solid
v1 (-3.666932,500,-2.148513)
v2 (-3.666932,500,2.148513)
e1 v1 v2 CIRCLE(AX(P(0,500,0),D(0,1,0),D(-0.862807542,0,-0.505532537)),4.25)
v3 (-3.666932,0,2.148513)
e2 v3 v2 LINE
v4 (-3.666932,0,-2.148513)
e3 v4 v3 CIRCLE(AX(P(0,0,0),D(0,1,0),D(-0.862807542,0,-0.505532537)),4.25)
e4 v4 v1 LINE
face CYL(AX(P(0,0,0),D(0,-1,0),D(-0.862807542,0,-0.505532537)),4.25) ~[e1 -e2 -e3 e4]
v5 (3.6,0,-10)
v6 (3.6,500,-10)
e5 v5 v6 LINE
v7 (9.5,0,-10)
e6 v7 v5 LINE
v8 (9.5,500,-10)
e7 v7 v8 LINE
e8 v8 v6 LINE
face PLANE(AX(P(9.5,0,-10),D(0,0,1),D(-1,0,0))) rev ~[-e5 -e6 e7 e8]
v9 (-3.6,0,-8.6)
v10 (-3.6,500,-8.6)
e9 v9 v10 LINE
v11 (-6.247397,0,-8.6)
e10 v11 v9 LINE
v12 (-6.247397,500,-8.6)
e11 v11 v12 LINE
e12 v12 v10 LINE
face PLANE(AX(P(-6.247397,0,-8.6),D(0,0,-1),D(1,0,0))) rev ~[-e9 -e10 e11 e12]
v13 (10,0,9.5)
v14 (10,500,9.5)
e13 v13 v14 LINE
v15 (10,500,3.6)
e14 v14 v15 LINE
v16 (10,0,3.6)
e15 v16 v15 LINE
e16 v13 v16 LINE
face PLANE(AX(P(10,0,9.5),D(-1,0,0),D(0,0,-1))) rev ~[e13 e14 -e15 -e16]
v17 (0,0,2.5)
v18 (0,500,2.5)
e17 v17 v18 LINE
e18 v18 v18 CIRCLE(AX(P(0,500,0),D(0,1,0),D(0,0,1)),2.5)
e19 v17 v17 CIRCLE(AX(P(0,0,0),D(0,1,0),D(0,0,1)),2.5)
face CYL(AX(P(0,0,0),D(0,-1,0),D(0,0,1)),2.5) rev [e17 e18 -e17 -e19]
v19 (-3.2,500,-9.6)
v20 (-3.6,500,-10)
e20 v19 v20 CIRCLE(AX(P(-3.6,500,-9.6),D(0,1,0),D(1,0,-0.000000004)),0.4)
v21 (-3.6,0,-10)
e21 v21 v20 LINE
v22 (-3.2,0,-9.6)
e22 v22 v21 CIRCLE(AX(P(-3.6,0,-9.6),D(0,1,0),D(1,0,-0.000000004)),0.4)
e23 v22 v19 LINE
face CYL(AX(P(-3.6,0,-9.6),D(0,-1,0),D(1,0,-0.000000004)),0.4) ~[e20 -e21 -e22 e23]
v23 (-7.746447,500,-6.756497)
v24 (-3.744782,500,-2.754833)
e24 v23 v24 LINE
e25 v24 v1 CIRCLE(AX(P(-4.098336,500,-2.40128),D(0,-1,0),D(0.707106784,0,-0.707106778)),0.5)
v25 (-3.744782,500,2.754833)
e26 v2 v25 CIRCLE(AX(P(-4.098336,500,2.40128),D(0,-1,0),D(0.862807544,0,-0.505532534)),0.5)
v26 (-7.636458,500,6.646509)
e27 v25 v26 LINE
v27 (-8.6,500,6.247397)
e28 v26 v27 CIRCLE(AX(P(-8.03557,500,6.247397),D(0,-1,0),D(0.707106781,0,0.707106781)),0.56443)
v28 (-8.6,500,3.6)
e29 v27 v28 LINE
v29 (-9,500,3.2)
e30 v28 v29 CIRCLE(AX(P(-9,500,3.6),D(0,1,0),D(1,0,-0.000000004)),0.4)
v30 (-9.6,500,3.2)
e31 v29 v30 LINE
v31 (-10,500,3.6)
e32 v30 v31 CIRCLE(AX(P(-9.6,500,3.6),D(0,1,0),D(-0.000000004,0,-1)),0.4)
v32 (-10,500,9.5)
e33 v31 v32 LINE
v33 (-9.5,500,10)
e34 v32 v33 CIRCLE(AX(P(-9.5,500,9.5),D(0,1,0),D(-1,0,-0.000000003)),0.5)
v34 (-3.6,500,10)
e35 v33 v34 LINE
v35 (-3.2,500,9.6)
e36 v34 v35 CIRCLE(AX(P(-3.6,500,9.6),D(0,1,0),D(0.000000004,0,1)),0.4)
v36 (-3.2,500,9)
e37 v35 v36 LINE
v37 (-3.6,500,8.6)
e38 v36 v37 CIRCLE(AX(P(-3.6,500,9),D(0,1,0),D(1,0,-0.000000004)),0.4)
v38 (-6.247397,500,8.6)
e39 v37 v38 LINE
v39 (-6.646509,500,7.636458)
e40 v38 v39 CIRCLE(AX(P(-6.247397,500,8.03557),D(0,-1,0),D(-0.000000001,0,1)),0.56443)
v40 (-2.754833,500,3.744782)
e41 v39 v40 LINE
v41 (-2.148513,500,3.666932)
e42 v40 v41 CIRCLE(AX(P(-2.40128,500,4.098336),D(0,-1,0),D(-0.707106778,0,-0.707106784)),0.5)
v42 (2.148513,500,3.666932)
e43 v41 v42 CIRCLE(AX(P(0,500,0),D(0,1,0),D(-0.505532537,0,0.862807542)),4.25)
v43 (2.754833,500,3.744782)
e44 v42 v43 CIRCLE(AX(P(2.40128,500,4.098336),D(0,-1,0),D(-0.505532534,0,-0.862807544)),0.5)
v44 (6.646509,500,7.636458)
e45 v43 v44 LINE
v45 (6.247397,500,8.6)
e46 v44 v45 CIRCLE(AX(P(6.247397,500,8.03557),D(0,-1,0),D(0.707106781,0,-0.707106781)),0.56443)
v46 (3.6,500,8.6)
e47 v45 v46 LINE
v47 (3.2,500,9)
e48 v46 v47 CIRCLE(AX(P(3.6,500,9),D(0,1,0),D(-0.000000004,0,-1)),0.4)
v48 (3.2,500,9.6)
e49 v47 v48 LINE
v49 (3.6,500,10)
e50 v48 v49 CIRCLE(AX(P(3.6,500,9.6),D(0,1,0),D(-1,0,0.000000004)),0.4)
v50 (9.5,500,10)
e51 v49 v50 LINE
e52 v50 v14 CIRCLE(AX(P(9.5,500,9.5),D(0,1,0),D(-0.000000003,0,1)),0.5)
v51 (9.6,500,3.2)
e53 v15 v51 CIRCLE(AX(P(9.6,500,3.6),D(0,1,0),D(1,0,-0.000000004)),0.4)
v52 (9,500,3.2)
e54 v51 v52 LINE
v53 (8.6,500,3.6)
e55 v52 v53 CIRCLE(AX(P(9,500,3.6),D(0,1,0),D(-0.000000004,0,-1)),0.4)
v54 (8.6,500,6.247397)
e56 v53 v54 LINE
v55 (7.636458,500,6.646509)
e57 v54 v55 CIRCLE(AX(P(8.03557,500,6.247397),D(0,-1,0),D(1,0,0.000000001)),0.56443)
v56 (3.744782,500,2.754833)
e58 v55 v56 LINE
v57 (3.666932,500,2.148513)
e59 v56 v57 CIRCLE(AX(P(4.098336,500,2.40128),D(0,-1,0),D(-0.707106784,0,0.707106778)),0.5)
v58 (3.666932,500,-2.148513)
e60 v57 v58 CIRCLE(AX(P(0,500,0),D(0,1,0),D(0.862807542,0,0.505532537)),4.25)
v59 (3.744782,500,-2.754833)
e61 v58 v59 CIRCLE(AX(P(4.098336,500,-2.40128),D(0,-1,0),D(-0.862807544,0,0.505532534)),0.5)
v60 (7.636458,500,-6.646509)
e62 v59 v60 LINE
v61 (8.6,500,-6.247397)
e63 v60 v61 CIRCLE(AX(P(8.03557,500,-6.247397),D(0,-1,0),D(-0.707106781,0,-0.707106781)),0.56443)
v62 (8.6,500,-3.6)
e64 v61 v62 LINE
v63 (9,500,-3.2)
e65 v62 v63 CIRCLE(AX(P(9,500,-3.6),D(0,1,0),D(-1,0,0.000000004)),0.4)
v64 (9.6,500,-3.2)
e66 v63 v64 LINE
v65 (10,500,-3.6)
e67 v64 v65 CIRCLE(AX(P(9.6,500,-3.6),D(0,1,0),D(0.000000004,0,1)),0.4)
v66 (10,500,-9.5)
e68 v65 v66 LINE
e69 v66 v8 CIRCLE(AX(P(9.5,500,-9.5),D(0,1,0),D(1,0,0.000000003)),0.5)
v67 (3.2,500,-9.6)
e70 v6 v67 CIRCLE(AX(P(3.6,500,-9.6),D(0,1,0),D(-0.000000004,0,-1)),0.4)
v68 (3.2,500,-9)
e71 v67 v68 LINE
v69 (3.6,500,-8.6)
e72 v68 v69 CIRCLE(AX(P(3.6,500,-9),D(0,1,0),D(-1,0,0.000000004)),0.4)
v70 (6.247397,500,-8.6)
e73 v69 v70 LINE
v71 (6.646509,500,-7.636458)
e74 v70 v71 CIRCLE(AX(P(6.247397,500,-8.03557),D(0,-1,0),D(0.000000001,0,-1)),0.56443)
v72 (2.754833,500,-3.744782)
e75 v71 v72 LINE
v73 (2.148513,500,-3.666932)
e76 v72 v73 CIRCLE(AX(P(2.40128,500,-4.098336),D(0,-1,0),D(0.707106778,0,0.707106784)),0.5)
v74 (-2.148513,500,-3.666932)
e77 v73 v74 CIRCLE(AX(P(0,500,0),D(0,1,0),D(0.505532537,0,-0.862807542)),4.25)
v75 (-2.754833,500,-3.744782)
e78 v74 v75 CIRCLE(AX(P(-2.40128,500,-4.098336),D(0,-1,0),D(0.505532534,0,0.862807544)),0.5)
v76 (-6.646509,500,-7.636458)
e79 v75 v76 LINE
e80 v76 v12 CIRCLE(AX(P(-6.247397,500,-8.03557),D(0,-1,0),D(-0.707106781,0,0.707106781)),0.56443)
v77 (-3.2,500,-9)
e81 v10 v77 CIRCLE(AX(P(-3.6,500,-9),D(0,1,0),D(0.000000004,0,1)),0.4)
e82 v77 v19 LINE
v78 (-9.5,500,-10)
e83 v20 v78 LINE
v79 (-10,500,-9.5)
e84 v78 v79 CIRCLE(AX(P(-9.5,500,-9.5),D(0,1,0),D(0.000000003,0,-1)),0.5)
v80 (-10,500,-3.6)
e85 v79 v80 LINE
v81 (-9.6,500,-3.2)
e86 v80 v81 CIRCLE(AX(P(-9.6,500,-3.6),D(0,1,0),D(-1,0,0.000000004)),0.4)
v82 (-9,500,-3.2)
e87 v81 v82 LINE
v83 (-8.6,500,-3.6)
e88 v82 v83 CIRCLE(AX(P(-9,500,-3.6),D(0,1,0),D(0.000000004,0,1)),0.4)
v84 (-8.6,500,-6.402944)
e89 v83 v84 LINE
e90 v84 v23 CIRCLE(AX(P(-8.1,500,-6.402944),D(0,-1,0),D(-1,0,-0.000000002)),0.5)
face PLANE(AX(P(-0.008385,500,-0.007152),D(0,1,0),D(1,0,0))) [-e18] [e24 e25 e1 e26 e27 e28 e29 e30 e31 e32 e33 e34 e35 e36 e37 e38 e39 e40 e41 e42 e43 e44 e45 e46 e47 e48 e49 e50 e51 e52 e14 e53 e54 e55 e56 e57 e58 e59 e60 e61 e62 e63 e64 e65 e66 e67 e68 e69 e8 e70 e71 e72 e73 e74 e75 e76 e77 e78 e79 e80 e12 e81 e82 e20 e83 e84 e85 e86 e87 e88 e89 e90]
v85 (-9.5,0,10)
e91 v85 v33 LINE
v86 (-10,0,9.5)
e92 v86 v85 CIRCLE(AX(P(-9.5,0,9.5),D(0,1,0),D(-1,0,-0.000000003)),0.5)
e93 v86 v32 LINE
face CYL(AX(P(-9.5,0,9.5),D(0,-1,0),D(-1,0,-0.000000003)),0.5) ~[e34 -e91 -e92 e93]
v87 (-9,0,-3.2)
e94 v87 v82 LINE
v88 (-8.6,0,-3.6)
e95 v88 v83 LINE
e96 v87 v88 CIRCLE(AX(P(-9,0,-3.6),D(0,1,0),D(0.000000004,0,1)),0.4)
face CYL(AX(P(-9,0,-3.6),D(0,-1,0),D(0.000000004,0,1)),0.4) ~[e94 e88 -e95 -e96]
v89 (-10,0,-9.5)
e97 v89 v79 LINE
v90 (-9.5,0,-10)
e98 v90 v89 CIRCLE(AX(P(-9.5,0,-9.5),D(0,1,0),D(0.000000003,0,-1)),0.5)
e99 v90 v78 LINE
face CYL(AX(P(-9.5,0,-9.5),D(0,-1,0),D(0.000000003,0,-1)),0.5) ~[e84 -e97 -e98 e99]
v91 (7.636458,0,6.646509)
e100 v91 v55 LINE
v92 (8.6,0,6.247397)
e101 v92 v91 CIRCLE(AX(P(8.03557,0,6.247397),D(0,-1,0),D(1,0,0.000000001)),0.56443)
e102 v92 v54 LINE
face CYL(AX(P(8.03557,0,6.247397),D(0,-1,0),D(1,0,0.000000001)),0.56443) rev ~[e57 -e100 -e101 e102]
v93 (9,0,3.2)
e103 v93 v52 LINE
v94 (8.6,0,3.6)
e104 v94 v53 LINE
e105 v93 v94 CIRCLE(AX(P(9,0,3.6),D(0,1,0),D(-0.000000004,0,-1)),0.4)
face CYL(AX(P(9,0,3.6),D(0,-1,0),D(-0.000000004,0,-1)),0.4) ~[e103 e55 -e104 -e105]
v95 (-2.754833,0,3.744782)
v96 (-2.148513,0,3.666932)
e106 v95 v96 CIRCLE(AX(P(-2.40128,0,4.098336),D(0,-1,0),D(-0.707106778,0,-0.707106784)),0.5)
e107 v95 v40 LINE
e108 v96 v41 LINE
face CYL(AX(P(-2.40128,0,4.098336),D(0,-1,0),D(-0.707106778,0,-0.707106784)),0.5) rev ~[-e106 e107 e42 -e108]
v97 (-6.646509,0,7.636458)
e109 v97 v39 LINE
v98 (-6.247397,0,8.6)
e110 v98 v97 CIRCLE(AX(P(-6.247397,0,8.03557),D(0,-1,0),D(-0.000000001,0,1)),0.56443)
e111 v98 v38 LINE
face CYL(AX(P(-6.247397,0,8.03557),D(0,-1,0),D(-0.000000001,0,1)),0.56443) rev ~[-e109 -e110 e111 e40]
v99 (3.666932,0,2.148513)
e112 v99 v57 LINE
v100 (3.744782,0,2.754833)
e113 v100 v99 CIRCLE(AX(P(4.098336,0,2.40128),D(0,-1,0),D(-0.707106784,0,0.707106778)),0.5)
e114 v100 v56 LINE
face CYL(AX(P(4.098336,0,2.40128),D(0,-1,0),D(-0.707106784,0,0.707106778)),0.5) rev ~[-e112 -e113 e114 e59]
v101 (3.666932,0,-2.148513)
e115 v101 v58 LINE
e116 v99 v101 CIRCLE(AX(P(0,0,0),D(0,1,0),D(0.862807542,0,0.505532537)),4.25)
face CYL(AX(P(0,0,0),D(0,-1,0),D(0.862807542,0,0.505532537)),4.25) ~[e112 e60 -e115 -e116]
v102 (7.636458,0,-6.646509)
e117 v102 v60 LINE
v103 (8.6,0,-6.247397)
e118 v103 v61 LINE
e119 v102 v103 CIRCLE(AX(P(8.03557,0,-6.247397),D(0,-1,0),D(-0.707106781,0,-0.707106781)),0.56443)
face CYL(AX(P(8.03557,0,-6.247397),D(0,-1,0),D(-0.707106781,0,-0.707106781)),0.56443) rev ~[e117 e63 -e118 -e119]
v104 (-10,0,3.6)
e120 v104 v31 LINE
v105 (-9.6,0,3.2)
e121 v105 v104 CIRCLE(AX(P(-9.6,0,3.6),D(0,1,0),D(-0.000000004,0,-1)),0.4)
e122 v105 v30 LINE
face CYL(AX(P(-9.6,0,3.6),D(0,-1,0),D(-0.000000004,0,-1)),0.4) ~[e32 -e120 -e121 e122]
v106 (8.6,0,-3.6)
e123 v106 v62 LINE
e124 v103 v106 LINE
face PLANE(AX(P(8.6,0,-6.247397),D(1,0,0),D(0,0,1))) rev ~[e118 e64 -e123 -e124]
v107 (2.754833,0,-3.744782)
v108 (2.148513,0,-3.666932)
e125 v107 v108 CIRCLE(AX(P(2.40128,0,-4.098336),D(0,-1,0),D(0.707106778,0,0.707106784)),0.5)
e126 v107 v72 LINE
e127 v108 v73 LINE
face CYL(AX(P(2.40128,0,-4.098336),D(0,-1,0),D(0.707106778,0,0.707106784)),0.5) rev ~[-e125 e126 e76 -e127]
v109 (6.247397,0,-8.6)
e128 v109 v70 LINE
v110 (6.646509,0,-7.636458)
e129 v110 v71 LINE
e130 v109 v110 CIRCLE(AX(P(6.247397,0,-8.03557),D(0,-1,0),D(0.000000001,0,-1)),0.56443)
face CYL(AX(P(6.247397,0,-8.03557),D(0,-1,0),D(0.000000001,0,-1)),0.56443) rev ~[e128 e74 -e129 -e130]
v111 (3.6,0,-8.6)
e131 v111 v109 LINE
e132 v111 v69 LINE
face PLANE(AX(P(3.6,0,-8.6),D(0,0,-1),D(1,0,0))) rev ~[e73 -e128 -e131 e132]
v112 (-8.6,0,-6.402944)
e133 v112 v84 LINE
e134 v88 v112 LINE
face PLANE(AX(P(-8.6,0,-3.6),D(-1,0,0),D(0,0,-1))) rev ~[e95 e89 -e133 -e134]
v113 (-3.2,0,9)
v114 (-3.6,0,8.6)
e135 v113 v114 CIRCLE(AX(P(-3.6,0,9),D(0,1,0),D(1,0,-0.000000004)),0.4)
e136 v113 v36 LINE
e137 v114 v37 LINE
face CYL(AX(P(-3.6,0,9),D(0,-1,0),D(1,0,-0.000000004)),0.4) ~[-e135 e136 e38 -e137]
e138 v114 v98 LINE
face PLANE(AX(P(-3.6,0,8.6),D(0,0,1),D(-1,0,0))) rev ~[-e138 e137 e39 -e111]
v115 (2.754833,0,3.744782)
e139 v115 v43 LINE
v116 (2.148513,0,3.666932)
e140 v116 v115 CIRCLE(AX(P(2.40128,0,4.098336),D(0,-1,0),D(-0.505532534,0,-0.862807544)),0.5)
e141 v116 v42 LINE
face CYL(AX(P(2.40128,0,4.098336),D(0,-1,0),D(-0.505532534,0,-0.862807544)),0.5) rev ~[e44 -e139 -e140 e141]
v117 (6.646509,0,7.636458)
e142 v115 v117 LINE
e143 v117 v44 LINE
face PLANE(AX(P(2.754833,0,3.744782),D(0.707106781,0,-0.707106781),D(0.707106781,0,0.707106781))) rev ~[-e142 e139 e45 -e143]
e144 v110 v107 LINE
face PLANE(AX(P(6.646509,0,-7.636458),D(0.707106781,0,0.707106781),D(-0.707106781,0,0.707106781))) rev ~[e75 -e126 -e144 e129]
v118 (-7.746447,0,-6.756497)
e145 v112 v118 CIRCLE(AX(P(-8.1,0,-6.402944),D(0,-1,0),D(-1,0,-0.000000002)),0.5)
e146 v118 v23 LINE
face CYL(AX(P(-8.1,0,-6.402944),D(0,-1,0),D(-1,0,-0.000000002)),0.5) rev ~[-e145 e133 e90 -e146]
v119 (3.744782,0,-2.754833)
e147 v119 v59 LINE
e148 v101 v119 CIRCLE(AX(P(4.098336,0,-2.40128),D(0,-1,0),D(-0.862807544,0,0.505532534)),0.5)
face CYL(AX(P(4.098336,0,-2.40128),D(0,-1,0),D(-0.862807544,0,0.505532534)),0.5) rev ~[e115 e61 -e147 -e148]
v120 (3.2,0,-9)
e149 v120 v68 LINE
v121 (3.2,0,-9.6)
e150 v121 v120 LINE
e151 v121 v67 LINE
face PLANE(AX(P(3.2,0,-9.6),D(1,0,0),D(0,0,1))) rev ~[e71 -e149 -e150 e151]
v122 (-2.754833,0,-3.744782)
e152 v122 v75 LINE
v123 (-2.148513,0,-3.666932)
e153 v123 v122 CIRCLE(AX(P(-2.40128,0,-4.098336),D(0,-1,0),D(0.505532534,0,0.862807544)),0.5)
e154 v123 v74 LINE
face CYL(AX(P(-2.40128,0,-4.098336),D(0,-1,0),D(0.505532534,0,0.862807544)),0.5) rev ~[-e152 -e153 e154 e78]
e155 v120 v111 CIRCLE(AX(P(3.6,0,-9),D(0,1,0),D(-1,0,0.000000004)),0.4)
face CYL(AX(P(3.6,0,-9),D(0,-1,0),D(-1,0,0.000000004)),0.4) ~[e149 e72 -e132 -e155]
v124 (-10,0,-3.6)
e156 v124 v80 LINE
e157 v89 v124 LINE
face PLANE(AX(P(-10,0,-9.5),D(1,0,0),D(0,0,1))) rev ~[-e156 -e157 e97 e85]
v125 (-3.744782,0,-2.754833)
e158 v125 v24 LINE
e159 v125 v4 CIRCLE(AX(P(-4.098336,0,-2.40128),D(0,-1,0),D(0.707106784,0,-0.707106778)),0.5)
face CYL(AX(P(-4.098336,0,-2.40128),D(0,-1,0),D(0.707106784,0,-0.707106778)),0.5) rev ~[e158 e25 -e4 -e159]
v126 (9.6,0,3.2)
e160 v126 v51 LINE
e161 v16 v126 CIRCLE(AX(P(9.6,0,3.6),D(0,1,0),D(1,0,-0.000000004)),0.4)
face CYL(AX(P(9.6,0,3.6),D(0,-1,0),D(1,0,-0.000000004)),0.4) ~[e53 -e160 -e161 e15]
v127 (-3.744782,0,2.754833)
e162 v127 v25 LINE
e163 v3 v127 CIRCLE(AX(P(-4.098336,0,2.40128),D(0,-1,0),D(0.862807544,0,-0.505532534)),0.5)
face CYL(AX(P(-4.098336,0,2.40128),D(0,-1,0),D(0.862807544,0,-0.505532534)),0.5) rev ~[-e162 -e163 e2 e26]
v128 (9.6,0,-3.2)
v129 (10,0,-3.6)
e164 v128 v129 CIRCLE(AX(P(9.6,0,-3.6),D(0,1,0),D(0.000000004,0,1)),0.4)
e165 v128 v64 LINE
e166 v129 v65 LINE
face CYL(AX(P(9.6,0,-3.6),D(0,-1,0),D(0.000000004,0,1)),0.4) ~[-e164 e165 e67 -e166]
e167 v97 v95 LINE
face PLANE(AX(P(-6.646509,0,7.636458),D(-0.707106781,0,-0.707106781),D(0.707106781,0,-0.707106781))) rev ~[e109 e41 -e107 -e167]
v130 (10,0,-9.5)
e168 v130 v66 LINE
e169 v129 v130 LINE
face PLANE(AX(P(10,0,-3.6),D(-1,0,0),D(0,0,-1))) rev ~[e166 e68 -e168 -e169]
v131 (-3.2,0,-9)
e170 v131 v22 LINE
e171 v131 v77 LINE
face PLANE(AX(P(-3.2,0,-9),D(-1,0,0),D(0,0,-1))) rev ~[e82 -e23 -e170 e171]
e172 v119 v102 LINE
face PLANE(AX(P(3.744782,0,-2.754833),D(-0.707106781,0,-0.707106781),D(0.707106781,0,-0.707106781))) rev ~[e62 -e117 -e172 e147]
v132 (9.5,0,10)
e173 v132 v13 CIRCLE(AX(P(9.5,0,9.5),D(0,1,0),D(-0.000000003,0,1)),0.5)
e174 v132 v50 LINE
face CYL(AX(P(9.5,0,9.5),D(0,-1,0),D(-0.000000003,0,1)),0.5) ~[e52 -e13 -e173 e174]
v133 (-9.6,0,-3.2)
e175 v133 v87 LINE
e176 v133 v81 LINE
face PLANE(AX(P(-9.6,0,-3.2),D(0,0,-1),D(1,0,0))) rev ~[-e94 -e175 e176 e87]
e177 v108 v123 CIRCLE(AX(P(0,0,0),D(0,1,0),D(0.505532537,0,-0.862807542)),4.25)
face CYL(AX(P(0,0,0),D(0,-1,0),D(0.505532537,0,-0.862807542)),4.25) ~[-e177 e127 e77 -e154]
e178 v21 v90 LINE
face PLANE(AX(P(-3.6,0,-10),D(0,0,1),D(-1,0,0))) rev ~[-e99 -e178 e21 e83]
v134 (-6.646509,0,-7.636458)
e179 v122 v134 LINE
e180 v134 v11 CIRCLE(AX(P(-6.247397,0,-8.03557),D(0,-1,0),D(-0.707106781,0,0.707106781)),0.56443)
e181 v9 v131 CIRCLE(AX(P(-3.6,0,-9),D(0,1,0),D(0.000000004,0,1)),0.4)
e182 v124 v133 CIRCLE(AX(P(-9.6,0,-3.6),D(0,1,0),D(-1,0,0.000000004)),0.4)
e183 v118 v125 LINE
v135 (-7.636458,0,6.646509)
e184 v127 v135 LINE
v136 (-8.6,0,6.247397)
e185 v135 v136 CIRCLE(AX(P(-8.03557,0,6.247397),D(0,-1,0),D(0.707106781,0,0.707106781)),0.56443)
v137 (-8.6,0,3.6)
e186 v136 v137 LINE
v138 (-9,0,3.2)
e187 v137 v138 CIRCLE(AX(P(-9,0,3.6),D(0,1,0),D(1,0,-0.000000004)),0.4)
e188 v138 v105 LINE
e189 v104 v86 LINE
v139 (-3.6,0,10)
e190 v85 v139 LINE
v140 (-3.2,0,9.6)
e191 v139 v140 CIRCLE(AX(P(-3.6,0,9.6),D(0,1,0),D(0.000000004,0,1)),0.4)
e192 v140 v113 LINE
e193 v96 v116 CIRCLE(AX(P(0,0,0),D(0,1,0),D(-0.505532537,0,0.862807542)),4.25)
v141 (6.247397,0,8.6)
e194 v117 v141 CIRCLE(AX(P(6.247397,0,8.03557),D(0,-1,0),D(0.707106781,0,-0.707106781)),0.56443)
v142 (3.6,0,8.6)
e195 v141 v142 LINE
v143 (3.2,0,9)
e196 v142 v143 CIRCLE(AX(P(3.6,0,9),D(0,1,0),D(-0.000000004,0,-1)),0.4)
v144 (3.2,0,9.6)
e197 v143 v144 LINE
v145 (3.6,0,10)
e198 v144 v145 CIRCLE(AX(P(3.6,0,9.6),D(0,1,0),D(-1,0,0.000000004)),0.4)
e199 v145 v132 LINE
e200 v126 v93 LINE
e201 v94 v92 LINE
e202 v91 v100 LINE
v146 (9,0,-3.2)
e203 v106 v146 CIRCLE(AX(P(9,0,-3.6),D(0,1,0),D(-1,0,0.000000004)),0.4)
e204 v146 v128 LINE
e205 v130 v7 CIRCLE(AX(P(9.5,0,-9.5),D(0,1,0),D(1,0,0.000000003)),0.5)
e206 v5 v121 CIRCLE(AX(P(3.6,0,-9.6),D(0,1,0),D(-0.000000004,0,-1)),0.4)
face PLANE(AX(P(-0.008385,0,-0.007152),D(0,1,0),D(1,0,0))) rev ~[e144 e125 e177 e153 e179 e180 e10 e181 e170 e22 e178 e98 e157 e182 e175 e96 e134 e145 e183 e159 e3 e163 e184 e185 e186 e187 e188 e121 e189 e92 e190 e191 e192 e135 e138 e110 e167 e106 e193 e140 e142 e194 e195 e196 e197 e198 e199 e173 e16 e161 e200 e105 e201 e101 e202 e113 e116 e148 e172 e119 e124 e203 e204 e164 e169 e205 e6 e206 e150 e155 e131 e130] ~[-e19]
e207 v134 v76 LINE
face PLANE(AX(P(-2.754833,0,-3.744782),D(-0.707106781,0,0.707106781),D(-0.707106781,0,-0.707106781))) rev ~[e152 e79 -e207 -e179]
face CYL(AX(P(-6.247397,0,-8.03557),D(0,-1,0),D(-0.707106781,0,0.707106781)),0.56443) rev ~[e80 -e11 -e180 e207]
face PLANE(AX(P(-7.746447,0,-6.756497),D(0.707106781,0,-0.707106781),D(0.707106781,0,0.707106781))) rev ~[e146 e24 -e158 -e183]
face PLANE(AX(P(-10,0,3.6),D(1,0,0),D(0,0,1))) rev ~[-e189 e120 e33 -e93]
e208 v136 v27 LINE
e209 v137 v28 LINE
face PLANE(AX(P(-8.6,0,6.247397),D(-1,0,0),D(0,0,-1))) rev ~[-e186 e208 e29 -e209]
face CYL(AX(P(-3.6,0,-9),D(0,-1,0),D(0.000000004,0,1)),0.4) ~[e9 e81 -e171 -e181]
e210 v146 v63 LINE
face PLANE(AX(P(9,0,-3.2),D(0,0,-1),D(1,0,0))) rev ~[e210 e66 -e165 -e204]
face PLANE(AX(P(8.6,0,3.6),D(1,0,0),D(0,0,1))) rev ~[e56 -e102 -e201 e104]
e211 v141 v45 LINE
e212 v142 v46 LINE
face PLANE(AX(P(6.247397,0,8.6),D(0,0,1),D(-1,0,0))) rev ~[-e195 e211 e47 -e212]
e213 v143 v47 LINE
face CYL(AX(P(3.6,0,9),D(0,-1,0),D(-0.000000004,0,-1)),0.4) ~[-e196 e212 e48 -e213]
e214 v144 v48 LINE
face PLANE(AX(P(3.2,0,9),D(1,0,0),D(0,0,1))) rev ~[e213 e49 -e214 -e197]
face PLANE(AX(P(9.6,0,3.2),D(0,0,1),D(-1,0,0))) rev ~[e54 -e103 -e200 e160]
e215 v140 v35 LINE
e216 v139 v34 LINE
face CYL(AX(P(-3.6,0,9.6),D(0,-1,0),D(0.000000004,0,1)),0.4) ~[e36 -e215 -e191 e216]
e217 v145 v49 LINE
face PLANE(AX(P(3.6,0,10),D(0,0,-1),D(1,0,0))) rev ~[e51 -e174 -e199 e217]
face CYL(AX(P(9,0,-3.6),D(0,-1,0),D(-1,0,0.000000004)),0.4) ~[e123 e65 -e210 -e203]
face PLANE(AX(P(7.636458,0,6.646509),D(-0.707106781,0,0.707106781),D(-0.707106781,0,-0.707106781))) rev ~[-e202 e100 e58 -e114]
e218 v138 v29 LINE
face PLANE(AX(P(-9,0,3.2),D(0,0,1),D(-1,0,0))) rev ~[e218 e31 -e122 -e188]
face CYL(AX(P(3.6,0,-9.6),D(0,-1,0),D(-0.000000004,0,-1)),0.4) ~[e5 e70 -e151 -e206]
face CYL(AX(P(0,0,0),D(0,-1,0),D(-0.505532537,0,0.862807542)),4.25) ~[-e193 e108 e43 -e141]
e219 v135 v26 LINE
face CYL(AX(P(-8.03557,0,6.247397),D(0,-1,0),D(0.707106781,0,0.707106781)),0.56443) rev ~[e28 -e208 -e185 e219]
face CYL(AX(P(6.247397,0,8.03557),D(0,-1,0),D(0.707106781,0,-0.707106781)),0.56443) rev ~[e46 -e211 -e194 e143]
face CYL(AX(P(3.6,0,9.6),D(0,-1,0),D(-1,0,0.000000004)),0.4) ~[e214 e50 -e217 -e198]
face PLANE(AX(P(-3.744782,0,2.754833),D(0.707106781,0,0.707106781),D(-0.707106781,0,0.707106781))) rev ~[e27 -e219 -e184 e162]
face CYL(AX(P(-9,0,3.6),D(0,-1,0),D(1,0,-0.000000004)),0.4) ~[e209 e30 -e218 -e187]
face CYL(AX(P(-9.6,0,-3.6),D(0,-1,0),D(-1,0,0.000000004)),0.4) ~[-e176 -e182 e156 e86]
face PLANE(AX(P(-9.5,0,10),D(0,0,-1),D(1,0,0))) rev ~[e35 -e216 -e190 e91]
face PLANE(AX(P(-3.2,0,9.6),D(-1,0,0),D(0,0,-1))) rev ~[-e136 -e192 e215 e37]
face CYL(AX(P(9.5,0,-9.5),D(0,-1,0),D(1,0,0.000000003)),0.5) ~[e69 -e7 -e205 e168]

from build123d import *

# Parameters (mm, degrees)
SKETCH1_R           = 2.5
BOSS_EXTRUDE1_DEPTH = 500


with BuildPart() as part:
    # Sketch1 → Boss-Extrude1 (new body)
    with BuildSketch(Plane(origin=(0, 0, 0), x_dir=(1, 0, 0), z_dir=(0, 1, 0))):
        with BuildLine():
            Line((-6.247396549, 8.6), (-3.6, 8.6))
            ThreePointArc((-3.6, 8.6), (-3.317157288, 8.717157288), (-3.2, 9))
            Line((-3.2, 9), (-3.2, 9.6))
            ThreePointArc((-3.2, 9.6), (-3.317157288, 9.882842712), (-3.6, 10))
            Line((-3.6, 10), (-9.5, 10))
            ThreePointArc((-9.5, 10), (-9.853553391, 9.853553391), (-10, 9.5))
            Line((-10, 9.5), (-10, 3.6))
            ThreePointArc((-10, 3.6), (-9.882842712, 3.317157288), (-9.6, 3.2))
            Line((-9.6, 3.2), (-9, 3.2))
            ThreePointArc((-9, 3.2), (-8.717157288, 3.317157288), (-8.6, 3.6))
            Line((-8.6, 3.6), (-8.6, 6.402943725))
            ThreePointArc((-8.6, 6.402943725), (-8.291341716, 6.864883491), (-7.746446609, 6.756497116))
            Line((-7.746446609, 6.756497116), (-3.744782433, 2.75483294))
            ThreePointArc((-3.744782433, 2.75483294), (-3.602407081, 2.46495593), (-3.666932053, 2.148513281))
            ThreePointArc((-3.666932053, 2.148513281), (-4.25, 0), (-3.666932053, -2.148513281))
            ThreePointArc((-3.666932053, -2.148513281), (-3.602407081, -2.46495593), (-3.744782433, -2.75483294))
            Line((-3.744782433, -2.75483294), (-7.636458146, -6.646508652))
            ThreePointArc((-7.636458146, -6.646508652), (-8.251568164, -6.768861642), (-8.6, -6.247396549))
            Line((-8.6, -6.247396549), (-8.6, -3.6))
            ThreePointArc((-8.6, -3.6), (-8.717157288, -3.317157288), (-9, -3.2))
            Line((-9, -3.2), (-9.6, -3.2))
            ThreePointArc((-9.6, -3.2), (-9.882842712, -3.317157288), (-10, -3.6))
            Line((-10, -3.6), (-10, -9.5))
            ThreePointArc((-10, -9.5), (-9.853553391, -9.853553391), (-9.5, -10))
            Line((-9.5, -10), (-3.6, -10))
            ThreePointArc((-3.6, -10), (-3.317157288, -9.882842712), (-3.2, -9.6))
            Line((-3.2, -9.6), (-3.2, -9))
            ThreePointArc((-3.2, -9), (-3.317157288, -8.717157288), (-3.6, -8.6))
            Line((-3.6, -8.6), (-6.247396549, -8.6))
            ThreePointArc((-6.247396549, -8.6), (-6.768861642, -8.251568164), (-6.646508652, -7.636458146))
            Line((-6.646508652, -7.636458146), (-2.75483294, -3.744782433))
            ThreePointArc((-2.75483294, -3.744782433), (-2.46495593, -3.602407081), (-2.148513281, -3.666932053))
            ThreePointArc((-2.148513281, -3.666932053), (0, -4.25), (2.148513281, -3.666932053))
            ThreePointArc((2.148513281, -3.666932053), (2.46495593, -3.602407081), (2.75483294, -3.744782433))
            Line((2.75483294, -3.744782433), (6.646508652, -7.636458146))
            ThreePointArc((6.646508652, -7.636458146), (6.768861642, -8.251568164), (6.247396549, -8.6))
            Line((6.247396549, -8.6), (3.6, -8.6))
            ThreePointArc((3.6, -8.6), (3.317157288, -8.717157288), (3.2, -9))
            Line((3.2, -9), (3.2, -9.6))
            ThreePointArc((3.2, -9.6), (3.317157288, -9.882842712), (3.6, -10))
            Line((3.6, -10), (9.5, -10))
            ThreePointArc((9.5, -10), (9.853553391, -9.853553391), (10, -9.5))
            Line((10, -9.5), (10, -3.6))
            ThreePointArc((10, -3.6), (9.882842712, -3.317157288), (9.6, -3.2))
            Line((9.6, -3.2), (9, -3.2))
            ThreePointArc((9, -3.2), (8.717157288, -3.317157288), (8.6, -3.6))
            Line((8.6, -3.6), (8.6, -6.247396549))
            ThreePointArc((8.6, -6.247396549), (8.251568164, -6.768861642), (7.636458146, -6.646508652))
            Line((7.636458146, -6.646508652), (3.744782433, -2.75483294))
            ThreePointArc((3.744782433, -2.75483294), (3.602407081, -2.46495593), (3.666932053, -2.148513281))
            ThreePointArc((3.666932053, -2.148513281), (4.25, 0), (3.666932053, 2.148513281))
            ThreePointArc((3.666932053, 2.148513281), (3.602407081, 2.46495593), (3.744782433, 2.75483294))
            Line((3.744782433, 2.75483294), (7.636458146, 6.646508652))
            ThreePointArc((7.636458146, 6.646508652), (8.251568164, 6.768861642), (8.6, 6.247396549))
            Line((8.6, 6.247396549), (8.6, 3.6))
            ThreePointArc((8.6, 3.6), (8.717157288, 3.317157288), (9, 3.2))
            Line((9, 3.2), (9.6, 3.2))
            ThreePointArc((9.6, 3.2), (9.882842712, 3.317157288), (10, 3.6))
            Line((10, 3.6), (10, 9.5))
            ThreePointArc((10, 9.5), (9.853553391, 9.853553391), (9.5, 10))
            Line((9.5, 10), (3.6, 10))
            ThreePointArc((3.6, 10), (3.317157288, 9.882842712), (3.2, 9.6))
            Line((3.2, 9.6), (3.2, 9))
            ThreePointArc((3.2, 9), (3.317157288, 8.717157288), (3.6, 8.6))
            Line((3.6, 8.6), (6.247396549, 8.6))
            ThreePointArc((6.247396549, 8.6), (6.768861642, 8.251568164), (6.646508652, 7.636458146))
            Line((6.646508652, 7.636458146), (2.75483294, 3.744782433))
            ThreePointArc((2.75483294, 3.744782433), (2.46495593, 3.602407081), (2.148513281, 3.666932053))
            ThreePointArc((2.148513281, 3.666932053), (0, 4.25), (-2.148513281, 3.666932053))
            ThreePointArc((-2.148513281, 3.666932053), (-2.46495593, 3.602407081), (-2.75483294, 3.744782433))
            Line((-2.75483294, 3.744782433), (-6.646508652, 7.636458146))
            ThreePointArc((-6.646508652, 7.636458146), (-6.768861642, 8.251568164), (-6.247396549, 8.6))
        make_face()
        with Locations(Location((0, 0, 0), (0, 0, 270))):
            Circle(SKETCH1_R, mode=Mode.SUBTRACT)
    extrude(amount=BOSS_EXTRUDE1_DEPTH)


solid = part.part
